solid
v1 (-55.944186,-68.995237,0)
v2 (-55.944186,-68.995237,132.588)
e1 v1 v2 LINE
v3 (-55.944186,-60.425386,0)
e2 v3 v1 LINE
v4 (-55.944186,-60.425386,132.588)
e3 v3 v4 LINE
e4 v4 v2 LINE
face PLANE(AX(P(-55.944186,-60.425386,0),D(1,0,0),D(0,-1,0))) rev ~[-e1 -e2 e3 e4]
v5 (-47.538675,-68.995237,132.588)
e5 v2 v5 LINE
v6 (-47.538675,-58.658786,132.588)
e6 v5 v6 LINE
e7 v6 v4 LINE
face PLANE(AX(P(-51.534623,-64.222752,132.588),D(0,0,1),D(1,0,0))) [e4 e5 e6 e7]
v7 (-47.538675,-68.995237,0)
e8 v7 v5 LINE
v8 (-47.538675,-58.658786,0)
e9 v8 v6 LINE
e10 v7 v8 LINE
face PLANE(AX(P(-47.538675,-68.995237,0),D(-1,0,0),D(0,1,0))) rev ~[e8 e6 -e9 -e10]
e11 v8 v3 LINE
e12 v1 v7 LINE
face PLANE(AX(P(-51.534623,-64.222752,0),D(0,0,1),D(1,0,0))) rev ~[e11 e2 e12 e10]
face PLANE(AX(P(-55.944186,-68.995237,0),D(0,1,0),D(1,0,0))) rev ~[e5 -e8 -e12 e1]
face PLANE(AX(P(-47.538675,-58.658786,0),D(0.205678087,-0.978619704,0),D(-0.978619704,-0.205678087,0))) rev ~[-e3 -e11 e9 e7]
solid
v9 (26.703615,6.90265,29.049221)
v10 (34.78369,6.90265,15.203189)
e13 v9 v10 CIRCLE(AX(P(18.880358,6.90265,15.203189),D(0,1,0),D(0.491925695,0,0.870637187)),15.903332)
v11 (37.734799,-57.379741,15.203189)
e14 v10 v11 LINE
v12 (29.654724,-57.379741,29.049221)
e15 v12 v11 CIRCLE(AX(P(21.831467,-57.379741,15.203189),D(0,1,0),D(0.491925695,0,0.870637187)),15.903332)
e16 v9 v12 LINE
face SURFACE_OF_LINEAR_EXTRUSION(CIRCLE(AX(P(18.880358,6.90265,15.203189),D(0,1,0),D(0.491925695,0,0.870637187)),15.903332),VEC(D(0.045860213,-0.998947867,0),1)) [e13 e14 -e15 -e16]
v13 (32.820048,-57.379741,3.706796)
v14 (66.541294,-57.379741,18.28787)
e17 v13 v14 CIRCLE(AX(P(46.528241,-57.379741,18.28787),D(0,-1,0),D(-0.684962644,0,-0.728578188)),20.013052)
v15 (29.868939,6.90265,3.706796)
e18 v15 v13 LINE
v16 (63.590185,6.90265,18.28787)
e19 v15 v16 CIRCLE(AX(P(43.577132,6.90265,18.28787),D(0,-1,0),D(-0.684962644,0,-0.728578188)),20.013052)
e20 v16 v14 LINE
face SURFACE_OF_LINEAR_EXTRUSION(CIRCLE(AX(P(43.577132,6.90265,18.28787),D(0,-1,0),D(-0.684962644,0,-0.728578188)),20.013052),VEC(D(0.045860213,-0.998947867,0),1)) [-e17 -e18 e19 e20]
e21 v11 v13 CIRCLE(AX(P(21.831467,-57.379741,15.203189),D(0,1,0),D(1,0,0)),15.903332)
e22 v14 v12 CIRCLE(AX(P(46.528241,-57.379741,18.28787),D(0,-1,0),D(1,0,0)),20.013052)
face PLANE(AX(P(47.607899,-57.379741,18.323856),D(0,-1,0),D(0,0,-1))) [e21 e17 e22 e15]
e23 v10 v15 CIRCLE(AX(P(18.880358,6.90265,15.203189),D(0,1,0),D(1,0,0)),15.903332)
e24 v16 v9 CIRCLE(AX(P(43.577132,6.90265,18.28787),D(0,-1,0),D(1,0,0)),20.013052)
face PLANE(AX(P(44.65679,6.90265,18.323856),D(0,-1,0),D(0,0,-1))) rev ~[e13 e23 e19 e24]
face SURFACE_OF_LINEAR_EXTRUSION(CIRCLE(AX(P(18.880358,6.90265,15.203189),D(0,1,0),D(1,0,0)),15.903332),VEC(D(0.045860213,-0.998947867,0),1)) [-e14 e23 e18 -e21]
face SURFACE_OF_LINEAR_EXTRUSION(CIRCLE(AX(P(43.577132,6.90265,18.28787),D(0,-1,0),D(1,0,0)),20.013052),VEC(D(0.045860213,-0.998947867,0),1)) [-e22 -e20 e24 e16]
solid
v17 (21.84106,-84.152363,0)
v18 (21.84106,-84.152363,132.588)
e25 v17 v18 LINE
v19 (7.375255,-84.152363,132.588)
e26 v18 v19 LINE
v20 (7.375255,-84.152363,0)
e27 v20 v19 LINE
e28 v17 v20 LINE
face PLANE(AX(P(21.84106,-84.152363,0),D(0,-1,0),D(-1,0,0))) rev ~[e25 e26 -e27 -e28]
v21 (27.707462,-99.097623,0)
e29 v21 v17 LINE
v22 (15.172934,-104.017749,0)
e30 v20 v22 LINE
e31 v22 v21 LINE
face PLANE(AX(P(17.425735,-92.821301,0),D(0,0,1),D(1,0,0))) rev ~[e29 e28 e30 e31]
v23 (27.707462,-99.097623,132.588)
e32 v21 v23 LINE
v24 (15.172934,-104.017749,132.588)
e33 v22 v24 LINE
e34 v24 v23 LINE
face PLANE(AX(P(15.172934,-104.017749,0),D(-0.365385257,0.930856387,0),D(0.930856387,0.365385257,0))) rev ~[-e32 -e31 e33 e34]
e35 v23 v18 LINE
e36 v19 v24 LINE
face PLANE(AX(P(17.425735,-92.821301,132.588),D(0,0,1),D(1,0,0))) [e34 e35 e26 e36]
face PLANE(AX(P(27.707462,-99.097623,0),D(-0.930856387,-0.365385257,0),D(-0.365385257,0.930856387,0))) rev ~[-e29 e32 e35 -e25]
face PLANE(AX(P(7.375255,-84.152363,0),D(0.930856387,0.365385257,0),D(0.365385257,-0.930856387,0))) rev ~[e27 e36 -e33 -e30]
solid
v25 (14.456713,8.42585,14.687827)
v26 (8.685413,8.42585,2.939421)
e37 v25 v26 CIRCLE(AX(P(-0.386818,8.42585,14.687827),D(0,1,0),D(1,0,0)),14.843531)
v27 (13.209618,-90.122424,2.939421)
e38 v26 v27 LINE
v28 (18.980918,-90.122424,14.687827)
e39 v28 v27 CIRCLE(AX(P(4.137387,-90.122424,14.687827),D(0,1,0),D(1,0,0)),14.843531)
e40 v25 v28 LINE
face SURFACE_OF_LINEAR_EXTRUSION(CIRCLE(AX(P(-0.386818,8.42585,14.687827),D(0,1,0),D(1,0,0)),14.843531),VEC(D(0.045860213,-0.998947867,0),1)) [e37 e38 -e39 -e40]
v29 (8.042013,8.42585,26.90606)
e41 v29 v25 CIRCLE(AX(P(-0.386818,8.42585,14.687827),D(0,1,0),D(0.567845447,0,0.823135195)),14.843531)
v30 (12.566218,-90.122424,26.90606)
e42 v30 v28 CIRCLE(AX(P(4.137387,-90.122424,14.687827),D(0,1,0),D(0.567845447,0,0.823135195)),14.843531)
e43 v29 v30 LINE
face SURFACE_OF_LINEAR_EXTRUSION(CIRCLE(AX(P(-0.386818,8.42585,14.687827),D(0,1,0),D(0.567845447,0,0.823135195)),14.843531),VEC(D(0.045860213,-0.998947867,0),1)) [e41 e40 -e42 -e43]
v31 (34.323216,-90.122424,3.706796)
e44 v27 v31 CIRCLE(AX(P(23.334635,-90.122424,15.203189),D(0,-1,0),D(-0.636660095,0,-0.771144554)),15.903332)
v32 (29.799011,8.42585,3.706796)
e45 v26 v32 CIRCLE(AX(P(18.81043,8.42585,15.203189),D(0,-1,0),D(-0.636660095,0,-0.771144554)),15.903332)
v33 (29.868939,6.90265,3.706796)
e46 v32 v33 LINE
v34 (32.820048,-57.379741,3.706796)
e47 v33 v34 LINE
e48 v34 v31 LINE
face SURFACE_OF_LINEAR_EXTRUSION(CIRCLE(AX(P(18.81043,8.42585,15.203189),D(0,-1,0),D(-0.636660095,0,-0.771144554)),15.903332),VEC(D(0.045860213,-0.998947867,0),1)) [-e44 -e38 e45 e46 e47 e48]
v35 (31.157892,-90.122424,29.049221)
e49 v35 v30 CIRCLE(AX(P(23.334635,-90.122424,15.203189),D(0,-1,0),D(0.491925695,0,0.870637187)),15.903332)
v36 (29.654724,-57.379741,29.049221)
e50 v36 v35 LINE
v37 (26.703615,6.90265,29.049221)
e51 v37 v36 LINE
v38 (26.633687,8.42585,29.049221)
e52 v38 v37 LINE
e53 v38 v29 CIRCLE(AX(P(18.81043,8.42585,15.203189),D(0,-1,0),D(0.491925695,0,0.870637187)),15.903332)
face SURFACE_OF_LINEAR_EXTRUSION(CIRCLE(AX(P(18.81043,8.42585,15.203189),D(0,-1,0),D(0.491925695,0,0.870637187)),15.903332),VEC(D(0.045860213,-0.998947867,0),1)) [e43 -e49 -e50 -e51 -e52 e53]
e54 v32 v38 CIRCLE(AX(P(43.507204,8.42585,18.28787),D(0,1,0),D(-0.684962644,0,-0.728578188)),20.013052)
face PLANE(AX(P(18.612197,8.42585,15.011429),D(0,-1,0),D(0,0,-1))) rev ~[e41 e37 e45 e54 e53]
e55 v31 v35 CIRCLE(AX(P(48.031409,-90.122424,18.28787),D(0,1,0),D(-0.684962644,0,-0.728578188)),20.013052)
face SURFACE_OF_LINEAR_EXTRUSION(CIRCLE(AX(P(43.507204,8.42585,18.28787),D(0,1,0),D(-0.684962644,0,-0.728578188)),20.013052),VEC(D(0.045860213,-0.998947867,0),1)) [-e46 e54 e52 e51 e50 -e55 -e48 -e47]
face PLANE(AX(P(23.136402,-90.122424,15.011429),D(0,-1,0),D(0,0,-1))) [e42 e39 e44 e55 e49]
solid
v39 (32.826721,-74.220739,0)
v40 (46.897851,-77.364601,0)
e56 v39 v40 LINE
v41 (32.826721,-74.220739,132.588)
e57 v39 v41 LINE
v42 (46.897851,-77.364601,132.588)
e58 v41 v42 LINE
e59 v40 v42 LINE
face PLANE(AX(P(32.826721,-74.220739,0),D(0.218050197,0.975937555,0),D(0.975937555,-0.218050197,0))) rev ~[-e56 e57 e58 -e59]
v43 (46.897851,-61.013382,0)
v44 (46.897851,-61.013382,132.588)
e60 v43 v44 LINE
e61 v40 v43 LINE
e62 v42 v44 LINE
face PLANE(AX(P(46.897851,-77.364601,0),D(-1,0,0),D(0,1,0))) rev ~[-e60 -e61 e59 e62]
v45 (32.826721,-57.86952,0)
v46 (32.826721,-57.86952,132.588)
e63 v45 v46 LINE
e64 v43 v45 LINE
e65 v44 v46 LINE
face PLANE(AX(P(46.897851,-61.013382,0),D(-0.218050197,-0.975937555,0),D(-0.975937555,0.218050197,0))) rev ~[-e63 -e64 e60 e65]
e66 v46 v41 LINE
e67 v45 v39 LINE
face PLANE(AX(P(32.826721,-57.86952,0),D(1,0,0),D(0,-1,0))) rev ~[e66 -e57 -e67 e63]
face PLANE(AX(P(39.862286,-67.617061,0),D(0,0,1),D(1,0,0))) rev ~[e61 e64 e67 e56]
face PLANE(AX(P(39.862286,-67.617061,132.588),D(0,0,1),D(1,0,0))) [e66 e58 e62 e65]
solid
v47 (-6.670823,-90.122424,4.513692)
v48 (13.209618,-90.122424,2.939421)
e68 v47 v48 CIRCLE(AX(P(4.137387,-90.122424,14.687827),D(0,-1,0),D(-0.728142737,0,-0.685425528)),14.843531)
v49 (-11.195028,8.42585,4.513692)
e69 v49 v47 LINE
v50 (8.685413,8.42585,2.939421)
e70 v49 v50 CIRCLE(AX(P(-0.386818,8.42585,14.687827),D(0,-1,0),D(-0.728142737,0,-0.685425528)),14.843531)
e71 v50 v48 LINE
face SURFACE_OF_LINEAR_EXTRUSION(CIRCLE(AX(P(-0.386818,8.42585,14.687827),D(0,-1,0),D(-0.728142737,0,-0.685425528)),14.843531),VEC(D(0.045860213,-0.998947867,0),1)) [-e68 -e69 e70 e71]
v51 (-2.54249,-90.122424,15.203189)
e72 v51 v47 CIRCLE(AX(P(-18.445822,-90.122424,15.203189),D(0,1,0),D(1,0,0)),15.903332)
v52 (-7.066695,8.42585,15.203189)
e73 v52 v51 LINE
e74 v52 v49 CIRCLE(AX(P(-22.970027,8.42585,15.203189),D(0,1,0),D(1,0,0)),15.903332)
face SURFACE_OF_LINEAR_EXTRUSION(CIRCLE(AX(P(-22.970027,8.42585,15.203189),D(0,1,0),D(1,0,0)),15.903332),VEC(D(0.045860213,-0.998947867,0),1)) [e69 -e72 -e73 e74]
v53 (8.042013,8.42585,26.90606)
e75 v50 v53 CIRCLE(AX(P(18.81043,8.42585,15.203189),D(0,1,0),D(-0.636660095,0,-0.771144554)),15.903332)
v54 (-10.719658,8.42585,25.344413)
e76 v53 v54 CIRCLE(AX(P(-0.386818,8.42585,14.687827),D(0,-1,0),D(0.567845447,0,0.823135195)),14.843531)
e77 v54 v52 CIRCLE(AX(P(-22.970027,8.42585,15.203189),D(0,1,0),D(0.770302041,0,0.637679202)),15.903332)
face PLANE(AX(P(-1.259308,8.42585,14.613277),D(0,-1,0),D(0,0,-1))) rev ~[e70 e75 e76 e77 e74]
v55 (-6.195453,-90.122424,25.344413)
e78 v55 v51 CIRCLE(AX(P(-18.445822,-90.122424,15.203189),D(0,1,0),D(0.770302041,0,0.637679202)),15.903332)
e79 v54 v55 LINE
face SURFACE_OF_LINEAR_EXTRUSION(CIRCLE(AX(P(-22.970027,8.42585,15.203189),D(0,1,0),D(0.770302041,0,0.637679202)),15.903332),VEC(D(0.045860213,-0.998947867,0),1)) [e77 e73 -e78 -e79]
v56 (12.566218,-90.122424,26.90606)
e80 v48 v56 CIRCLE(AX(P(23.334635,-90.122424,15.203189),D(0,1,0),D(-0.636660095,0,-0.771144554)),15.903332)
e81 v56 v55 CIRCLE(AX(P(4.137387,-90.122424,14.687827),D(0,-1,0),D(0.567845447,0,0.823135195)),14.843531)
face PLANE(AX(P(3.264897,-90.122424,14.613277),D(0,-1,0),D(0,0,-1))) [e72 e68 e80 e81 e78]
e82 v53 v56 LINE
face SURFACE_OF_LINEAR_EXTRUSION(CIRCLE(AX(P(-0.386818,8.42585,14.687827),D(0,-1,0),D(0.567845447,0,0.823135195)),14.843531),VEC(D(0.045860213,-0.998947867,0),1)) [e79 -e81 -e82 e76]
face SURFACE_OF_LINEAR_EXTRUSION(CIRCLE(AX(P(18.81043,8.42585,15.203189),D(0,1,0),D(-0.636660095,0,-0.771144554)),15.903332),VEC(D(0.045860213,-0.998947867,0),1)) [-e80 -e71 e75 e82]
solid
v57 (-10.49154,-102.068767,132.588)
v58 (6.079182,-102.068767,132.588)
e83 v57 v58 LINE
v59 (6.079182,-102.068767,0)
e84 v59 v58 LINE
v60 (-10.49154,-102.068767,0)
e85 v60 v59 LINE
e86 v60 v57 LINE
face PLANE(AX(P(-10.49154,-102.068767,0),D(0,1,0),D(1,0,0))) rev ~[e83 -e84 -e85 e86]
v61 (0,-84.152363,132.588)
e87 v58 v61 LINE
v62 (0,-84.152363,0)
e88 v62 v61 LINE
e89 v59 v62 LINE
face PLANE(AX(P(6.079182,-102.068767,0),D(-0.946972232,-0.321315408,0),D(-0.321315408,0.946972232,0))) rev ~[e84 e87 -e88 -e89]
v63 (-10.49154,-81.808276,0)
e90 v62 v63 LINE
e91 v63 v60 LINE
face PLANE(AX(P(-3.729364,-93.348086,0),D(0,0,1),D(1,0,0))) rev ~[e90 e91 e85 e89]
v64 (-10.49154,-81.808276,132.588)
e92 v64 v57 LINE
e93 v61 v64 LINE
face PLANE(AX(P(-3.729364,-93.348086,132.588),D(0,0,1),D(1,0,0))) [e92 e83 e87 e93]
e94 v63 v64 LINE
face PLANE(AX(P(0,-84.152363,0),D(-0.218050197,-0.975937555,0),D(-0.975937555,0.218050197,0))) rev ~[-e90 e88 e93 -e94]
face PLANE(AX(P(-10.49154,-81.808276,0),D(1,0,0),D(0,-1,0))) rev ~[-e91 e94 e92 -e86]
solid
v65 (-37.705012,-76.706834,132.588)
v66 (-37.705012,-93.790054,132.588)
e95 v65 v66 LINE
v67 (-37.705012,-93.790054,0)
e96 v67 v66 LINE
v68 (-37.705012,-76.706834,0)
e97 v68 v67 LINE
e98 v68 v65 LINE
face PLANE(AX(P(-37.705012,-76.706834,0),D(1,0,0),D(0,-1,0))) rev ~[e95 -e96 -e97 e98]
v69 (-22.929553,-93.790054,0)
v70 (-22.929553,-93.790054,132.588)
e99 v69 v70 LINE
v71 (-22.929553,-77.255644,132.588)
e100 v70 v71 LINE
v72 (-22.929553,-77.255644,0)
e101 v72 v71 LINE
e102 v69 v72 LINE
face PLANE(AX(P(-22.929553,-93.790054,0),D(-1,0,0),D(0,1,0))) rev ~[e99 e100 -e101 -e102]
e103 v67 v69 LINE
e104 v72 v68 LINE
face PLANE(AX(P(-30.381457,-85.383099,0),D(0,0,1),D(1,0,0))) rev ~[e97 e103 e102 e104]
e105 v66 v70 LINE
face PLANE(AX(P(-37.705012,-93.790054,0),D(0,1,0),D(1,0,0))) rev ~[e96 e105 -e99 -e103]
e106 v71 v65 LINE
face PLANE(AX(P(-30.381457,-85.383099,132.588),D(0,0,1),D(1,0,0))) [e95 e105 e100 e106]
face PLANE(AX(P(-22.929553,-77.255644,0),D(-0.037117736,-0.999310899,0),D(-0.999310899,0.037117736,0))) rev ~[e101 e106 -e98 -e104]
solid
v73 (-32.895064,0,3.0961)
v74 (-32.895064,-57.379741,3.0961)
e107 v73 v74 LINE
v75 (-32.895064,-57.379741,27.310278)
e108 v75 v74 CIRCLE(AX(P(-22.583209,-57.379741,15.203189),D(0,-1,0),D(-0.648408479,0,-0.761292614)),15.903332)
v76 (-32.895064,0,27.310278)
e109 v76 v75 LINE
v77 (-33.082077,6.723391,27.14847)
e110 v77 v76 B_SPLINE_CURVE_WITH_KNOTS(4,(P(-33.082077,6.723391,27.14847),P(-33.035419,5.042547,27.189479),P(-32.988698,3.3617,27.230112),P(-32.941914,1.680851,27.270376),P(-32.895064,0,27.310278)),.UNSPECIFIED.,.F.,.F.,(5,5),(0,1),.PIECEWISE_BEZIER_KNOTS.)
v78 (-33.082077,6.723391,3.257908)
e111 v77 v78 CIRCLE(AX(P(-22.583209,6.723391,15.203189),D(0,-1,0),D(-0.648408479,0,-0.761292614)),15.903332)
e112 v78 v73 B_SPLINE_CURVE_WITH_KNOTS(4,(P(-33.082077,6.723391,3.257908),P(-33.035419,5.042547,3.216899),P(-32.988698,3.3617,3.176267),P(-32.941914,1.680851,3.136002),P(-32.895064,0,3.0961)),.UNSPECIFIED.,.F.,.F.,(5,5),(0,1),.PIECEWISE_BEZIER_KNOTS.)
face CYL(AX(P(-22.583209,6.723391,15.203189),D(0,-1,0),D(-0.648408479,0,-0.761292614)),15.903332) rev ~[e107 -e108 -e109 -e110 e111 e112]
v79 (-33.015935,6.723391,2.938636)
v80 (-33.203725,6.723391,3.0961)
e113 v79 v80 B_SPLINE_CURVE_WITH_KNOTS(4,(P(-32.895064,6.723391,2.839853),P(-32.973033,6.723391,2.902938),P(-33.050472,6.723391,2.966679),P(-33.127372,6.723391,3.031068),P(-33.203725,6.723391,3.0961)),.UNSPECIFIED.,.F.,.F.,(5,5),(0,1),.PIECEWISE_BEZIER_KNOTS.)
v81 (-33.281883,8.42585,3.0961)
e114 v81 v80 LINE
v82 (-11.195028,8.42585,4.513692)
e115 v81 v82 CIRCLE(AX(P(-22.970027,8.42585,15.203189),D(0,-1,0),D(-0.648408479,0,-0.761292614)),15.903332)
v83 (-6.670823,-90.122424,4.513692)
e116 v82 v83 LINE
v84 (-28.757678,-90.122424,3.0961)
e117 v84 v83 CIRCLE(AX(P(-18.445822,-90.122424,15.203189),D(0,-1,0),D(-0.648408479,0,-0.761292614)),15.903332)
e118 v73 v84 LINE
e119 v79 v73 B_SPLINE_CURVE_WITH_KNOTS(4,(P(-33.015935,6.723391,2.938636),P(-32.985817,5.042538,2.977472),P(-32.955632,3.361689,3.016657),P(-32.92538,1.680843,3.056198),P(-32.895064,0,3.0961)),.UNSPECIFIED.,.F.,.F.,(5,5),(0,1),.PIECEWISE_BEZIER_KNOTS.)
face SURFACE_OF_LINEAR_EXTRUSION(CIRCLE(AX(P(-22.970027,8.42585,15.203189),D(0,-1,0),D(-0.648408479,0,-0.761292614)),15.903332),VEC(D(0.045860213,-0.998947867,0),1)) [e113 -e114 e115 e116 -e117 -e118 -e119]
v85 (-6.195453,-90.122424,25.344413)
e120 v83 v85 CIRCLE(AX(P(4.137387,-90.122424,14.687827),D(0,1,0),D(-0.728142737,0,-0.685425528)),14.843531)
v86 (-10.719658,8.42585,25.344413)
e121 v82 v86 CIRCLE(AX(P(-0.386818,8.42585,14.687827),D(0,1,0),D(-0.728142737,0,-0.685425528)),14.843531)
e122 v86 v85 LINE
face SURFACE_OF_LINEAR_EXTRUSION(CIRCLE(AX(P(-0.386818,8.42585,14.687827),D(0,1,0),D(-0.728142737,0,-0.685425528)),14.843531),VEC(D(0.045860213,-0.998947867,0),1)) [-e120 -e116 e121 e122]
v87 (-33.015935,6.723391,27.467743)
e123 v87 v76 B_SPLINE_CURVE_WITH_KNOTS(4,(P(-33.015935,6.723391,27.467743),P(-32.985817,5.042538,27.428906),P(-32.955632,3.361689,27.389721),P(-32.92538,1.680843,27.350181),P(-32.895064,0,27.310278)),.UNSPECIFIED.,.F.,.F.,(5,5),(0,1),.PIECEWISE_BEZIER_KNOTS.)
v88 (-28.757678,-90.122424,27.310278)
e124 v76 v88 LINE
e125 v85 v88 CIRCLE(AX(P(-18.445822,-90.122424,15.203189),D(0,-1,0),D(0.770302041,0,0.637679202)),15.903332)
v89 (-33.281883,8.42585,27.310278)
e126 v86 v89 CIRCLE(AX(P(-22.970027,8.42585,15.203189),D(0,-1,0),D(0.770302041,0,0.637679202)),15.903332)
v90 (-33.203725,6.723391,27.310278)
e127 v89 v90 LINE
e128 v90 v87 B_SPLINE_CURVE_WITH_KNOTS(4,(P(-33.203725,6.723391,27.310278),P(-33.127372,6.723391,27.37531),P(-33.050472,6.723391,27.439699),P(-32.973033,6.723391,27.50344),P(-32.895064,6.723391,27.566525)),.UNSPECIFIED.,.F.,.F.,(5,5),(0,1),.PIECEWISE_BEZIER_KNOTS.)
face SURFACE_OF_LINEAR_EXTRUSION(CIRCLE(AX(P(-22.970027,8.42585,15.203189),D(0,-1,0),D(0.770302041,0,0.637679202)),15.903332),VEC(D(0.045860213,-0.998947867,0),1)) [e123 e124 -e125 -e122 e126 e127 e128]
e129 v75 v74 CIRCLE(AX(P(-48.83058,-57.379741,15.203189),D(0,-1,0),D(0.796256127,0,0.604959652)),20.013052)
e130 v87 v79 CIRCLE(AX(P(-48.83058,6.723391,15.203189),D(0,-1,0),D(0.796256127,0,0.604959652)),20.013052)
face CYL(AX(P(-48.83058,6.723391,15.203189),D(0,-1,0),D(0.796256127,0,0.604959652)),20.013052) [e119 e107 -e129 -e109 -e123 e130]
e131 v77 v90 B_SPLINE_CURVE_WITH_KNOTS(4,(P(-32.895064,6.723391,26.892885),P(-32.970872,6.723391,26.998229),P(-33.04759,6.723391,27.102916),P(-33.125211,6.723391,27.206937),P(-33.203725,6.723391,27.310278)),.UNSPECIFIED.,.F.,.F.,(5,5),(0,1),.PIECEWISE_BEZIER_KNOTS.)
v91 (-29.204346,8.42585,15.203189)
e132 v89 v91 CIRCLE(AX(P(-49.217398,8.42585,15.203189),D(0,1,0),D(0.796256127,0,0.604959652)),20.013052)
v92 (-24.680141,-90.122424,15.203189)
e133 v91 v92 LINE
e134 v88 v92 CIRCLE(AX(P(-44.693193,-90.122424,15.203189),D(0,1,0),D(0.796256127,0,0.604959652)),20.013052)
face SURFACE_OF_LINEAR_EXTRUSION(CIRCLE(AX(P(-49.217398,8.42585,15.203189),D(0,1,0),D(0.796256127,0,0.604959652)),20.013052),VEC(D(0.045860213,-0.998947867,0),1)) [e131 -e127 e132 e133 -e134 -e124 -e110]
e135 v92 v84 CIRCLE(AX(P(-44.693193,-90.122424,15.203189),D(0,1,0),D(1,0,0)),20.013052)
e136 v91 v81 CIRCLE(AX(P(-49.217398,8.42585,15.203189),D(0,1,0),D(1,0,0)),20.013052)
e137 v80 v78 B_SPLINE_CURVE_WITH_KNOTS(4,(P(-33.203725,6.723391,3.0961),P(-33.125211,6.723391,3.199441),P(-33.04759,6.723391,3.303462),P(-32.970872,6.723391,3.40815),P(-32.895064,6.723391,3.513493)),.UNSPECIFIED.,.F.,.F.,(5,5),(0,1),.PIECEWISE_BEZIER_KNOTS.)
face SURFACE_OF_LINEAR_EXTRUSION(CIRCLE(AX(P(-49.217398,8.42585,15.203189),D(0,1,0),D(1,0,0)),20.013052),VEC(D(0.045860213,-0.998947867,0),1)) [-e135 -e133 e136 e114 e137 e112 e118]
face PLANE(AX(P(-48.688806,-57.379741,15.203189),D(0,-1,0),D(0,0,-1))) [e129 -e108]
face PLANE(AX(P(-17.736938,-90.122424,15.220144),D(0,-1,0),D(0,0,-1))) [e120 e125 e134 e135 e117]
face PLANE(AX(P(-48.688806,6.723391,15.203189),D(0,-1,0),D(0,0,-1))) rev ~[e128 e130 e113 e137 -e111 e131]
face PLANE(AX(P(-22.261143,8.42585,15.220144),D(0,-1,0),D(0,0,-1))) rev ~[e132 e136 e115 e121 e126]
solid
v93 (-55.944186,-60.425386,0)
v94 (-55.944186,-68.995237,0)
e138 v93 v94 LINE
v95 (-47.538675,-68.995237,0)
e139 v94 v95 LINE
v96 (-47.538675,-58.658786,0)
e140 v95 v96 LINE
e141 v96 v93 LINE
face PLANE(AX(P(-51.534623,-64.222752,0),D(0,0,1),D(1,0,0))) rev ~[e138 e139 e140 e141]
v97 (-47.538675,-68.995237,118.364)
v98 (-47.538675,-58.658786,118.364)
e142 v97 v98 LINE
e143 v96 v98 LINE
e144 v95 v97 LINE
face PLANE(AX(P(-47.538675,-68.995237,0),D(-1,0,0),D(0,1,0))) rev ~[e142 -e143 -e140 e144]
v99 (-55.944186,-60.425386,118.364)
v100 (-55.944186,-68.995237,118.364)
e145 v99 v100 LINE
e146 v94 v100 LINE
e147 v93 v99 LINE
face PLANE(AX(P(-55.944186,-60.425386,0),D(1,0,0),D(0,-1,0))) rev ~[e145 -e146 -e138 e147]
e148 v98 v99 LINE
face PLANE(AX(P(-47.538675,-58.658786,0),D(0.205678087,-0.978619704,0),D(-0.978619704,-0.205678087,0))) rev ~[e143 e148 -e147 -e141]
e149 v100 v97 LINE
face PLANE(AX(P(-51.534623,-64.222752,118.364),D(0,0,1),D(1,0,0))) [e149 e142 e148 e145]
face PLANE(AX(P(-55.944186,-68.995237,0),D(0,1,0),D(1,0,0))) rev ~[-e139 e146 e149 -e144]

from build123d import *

# Parameters (mm, degrees)
F6_DEPTH = 118.364
F7_DEPTH = 132.588


with BuildPart() as f2:
    # F2: sweep along a path in F1
    with BuildLine(Plane.XY) as f2_path:
        Line((-44.0169908106, 6.7233908921), (-44.0169908106, -57.3797412217))
    # F0 (on Front) → F2 (sweep)
    with BuildSketch(Plane.XZ):
        with BuildLine():
            ThreePointArc((-32.8950643292, 3.0960998597), (-38.4865410432, 15.2031891048), (-32.8950643292, 27.3102783499))
            ThreePointArc((-32.8950643292, 27.3102783499), (-68.8436324224, 15.2031891048), (-32.8950643292, 3.0960998597))
        make_face()
    sweep(path=f2_path.line)

    # F3: sweep along a path in F1
    with BuildLine(Plane.XY) as f3_path:
        Line((-30.7416990399, 8.4258504212), (-26.2174941599, -90.1224240661))
    # F0 (on Front) → F3 (sweep)
    with BuildSketch(Plane.XZ):
        with BuildLine():
            ThreePointArc((-10.8082092625, 4.5136918076), (-14.839667369, 15.0264768841), (-10.3328398225, 25.3444132084))
            ThreePointArc((-10.3328398225, 25.3444132084), (-21.2027686929, 31.0464954324), (-32.8950643292, 27.3102783499))
            ThreePointArc((-32.8950643292, 27.3102783499), (-29.8642864569, 21.590831794), (-28.8175275103, 15.2031891048))
            ThreePointArc((-28.8175275103, 15.2031891048), (-29.8642864569, 8.8155464156), (-32.8950643292, 3.0960998597))
            ThreePointArc((-32.8950643292, 3.0960998597), (-21.5645875614, -0.6674876665), (-10.8082092625, 4.5136918076))
        make_face()
        with BuildLine():
            ThreePointArc((9.0722310211, 2.939421188), (3.2996434316, 14.7764078694), (8.4288314725, 26.9060596045))
            ThreePointArc((8.4288314725, 26.9060596045), (-1.2312582246, 29.480203767), (-10.3328398225, 25.3444132084))
            ThreePointArc((-10.3328398225, 25.3444132084), (-7.6209621654, 20.5927290744), (-6.6798769131, 15.2031891048))
            ThreePointArc((-6.6798769131, 15.2031891048), (-7.7478171513, 9.4736934801), (-10.8082092625, 4.5136918076))
            ThreePointArc((-10.8082092625, 4.5136918076), (-1.1717453263, -0.1093831623), (9.0722310211, 2.939421188))
        make_face()
        with BuildLine():
            ThreePointArc((8.4288314725, 26.9060596045), (13.1423748313, 21.5877105703), (14.8435309635, 14.687826857))
            ThreePointArc((14.8435309635, 14.687826857), (13.32280664, 8.1431164205), (9.0722310211, 2.939421188))
            ThreePointArc((9.0722310211, 2.939421188), (19.7748741488, -0.6896494936), (30.185829373, 3.7067962586))
            ThreePointArc((30.185829373, 3.7067962586), (24.0352744748, 15.8074690973), (27.0205055983, 29.0492213924))
            ThreePointArc((27.0205055983, 29.0492213924), (17.3760462138, 31.001897758), (8.4288314725, 26.9060596045))
        make_face()
    sweep(path=f3_path.line)

    # F4: sweep along a path in F1
    with BuildLine(Plane.XY) as f4_path:
        Line((32.6707735658, 6.9026499987), (35.6218826498, -57.3797412217))
    # F0 (on Front) → F4 (sweep)
    with BuildSketch(Plane.XZ):
        with BuildLine():
            ThreePointArc((63.9070751592, 18.2878697524), (49.4990064529, 37.5000124172), (27.0205055983, 29.0492213924))
            ThreePointArc((27.0205055983, 29.0492213924), (32.9328191777, 23.2188021856), (35.1005799875, 15.2031891048))
            ThreePointArc((35.1005799875, 15.2031891048), (33.8203637071, 8.9517528283), (30.185829373, 3.7067962586))
            ThreePointArc((30.185829373, 3.7067962586), (51.8369276005, -0.0814669368), (63.9070751592, 18.2878697524))
        make_face()
    sweep(path=f4_path.line)


with BuildPart() as f6:
    # F5 (on Top) → F6 (new body)
    with BuildSketch(Plane.XY):
        Polygon((-47.5386753678, -58.658786118), (-55.944185704, -60.4253858328), (-55.944185704, -68.9952373505), (-47.5386753678, -68.9952373505), align=None)
    extrude(amount=F6_DEPTH)


with BuildPart() as f7:
    # F5 (on Top) → F7 (new body)
    with BuildSketch(Plane.XY):
        Polygon((-47.5386753678, -58.658786118), (-55.944185704, -60.4253858328), (-55.944185704, -68.9952373505), (-47.5386753678, -68.9952373505), align=None)
    extrude(amount=F7_DEPTH)


with BuildPart() as f7b:
    # F5 (on Top) → F7, piece 2 (new body)
    with BuildSketch(Plane.XY):
        Polygon((-22.9295529425, -77.2556439042), (-37.7050116658, -76.7068341374), (-37.7050116658, -93.7900543213), (-22.9295529425, -93.7900543213), align=None)
    extrude(amount=F7_DEPTH)


with BuildPart() as f7c:
    # F5 (on Top) → F7, piece 3 (new body)
    with BuildSketch(Plane.XY):
        Polygon((0, -84.1523632407), (-10.4915397242, -81.8082764745), (-10.4915397242, -102.0687669516), (6.0791820288, -102.0687669516), align=None)
    extrude(amount=F7_DEPTH)


with BuildPart() as f7d:
    # F5 (on Top) → F7, piece 4 (new body)
    with BuildSketch(Plane.XY):
        Polygon((21.8410599335, -84.1523632407), (7.3752552271, -84.1523632407), (15.1729341596, -104.0177494287), (27.707461557, -99.0976225663), align=None)
    extrude(amount=F7_DEPTH)


with BuildPart() as f7e:
    # F5 (on Top) → F7, piece 5 (new body)
    with BuildSketch(Plane.XY):
        Polygon((46.8978509307, -77.3646011949), (46.8978509307, -61.0133817398), (32.8267207991, -57.8695200384), (32.8267207991, -74.2207394935), align=None)
    extrude(amount=F7_DEPTH)


solid = Compound([f2.part, f6.part, f7.part, f7b.part, f7c.part, f7d.part, f7e.part])
